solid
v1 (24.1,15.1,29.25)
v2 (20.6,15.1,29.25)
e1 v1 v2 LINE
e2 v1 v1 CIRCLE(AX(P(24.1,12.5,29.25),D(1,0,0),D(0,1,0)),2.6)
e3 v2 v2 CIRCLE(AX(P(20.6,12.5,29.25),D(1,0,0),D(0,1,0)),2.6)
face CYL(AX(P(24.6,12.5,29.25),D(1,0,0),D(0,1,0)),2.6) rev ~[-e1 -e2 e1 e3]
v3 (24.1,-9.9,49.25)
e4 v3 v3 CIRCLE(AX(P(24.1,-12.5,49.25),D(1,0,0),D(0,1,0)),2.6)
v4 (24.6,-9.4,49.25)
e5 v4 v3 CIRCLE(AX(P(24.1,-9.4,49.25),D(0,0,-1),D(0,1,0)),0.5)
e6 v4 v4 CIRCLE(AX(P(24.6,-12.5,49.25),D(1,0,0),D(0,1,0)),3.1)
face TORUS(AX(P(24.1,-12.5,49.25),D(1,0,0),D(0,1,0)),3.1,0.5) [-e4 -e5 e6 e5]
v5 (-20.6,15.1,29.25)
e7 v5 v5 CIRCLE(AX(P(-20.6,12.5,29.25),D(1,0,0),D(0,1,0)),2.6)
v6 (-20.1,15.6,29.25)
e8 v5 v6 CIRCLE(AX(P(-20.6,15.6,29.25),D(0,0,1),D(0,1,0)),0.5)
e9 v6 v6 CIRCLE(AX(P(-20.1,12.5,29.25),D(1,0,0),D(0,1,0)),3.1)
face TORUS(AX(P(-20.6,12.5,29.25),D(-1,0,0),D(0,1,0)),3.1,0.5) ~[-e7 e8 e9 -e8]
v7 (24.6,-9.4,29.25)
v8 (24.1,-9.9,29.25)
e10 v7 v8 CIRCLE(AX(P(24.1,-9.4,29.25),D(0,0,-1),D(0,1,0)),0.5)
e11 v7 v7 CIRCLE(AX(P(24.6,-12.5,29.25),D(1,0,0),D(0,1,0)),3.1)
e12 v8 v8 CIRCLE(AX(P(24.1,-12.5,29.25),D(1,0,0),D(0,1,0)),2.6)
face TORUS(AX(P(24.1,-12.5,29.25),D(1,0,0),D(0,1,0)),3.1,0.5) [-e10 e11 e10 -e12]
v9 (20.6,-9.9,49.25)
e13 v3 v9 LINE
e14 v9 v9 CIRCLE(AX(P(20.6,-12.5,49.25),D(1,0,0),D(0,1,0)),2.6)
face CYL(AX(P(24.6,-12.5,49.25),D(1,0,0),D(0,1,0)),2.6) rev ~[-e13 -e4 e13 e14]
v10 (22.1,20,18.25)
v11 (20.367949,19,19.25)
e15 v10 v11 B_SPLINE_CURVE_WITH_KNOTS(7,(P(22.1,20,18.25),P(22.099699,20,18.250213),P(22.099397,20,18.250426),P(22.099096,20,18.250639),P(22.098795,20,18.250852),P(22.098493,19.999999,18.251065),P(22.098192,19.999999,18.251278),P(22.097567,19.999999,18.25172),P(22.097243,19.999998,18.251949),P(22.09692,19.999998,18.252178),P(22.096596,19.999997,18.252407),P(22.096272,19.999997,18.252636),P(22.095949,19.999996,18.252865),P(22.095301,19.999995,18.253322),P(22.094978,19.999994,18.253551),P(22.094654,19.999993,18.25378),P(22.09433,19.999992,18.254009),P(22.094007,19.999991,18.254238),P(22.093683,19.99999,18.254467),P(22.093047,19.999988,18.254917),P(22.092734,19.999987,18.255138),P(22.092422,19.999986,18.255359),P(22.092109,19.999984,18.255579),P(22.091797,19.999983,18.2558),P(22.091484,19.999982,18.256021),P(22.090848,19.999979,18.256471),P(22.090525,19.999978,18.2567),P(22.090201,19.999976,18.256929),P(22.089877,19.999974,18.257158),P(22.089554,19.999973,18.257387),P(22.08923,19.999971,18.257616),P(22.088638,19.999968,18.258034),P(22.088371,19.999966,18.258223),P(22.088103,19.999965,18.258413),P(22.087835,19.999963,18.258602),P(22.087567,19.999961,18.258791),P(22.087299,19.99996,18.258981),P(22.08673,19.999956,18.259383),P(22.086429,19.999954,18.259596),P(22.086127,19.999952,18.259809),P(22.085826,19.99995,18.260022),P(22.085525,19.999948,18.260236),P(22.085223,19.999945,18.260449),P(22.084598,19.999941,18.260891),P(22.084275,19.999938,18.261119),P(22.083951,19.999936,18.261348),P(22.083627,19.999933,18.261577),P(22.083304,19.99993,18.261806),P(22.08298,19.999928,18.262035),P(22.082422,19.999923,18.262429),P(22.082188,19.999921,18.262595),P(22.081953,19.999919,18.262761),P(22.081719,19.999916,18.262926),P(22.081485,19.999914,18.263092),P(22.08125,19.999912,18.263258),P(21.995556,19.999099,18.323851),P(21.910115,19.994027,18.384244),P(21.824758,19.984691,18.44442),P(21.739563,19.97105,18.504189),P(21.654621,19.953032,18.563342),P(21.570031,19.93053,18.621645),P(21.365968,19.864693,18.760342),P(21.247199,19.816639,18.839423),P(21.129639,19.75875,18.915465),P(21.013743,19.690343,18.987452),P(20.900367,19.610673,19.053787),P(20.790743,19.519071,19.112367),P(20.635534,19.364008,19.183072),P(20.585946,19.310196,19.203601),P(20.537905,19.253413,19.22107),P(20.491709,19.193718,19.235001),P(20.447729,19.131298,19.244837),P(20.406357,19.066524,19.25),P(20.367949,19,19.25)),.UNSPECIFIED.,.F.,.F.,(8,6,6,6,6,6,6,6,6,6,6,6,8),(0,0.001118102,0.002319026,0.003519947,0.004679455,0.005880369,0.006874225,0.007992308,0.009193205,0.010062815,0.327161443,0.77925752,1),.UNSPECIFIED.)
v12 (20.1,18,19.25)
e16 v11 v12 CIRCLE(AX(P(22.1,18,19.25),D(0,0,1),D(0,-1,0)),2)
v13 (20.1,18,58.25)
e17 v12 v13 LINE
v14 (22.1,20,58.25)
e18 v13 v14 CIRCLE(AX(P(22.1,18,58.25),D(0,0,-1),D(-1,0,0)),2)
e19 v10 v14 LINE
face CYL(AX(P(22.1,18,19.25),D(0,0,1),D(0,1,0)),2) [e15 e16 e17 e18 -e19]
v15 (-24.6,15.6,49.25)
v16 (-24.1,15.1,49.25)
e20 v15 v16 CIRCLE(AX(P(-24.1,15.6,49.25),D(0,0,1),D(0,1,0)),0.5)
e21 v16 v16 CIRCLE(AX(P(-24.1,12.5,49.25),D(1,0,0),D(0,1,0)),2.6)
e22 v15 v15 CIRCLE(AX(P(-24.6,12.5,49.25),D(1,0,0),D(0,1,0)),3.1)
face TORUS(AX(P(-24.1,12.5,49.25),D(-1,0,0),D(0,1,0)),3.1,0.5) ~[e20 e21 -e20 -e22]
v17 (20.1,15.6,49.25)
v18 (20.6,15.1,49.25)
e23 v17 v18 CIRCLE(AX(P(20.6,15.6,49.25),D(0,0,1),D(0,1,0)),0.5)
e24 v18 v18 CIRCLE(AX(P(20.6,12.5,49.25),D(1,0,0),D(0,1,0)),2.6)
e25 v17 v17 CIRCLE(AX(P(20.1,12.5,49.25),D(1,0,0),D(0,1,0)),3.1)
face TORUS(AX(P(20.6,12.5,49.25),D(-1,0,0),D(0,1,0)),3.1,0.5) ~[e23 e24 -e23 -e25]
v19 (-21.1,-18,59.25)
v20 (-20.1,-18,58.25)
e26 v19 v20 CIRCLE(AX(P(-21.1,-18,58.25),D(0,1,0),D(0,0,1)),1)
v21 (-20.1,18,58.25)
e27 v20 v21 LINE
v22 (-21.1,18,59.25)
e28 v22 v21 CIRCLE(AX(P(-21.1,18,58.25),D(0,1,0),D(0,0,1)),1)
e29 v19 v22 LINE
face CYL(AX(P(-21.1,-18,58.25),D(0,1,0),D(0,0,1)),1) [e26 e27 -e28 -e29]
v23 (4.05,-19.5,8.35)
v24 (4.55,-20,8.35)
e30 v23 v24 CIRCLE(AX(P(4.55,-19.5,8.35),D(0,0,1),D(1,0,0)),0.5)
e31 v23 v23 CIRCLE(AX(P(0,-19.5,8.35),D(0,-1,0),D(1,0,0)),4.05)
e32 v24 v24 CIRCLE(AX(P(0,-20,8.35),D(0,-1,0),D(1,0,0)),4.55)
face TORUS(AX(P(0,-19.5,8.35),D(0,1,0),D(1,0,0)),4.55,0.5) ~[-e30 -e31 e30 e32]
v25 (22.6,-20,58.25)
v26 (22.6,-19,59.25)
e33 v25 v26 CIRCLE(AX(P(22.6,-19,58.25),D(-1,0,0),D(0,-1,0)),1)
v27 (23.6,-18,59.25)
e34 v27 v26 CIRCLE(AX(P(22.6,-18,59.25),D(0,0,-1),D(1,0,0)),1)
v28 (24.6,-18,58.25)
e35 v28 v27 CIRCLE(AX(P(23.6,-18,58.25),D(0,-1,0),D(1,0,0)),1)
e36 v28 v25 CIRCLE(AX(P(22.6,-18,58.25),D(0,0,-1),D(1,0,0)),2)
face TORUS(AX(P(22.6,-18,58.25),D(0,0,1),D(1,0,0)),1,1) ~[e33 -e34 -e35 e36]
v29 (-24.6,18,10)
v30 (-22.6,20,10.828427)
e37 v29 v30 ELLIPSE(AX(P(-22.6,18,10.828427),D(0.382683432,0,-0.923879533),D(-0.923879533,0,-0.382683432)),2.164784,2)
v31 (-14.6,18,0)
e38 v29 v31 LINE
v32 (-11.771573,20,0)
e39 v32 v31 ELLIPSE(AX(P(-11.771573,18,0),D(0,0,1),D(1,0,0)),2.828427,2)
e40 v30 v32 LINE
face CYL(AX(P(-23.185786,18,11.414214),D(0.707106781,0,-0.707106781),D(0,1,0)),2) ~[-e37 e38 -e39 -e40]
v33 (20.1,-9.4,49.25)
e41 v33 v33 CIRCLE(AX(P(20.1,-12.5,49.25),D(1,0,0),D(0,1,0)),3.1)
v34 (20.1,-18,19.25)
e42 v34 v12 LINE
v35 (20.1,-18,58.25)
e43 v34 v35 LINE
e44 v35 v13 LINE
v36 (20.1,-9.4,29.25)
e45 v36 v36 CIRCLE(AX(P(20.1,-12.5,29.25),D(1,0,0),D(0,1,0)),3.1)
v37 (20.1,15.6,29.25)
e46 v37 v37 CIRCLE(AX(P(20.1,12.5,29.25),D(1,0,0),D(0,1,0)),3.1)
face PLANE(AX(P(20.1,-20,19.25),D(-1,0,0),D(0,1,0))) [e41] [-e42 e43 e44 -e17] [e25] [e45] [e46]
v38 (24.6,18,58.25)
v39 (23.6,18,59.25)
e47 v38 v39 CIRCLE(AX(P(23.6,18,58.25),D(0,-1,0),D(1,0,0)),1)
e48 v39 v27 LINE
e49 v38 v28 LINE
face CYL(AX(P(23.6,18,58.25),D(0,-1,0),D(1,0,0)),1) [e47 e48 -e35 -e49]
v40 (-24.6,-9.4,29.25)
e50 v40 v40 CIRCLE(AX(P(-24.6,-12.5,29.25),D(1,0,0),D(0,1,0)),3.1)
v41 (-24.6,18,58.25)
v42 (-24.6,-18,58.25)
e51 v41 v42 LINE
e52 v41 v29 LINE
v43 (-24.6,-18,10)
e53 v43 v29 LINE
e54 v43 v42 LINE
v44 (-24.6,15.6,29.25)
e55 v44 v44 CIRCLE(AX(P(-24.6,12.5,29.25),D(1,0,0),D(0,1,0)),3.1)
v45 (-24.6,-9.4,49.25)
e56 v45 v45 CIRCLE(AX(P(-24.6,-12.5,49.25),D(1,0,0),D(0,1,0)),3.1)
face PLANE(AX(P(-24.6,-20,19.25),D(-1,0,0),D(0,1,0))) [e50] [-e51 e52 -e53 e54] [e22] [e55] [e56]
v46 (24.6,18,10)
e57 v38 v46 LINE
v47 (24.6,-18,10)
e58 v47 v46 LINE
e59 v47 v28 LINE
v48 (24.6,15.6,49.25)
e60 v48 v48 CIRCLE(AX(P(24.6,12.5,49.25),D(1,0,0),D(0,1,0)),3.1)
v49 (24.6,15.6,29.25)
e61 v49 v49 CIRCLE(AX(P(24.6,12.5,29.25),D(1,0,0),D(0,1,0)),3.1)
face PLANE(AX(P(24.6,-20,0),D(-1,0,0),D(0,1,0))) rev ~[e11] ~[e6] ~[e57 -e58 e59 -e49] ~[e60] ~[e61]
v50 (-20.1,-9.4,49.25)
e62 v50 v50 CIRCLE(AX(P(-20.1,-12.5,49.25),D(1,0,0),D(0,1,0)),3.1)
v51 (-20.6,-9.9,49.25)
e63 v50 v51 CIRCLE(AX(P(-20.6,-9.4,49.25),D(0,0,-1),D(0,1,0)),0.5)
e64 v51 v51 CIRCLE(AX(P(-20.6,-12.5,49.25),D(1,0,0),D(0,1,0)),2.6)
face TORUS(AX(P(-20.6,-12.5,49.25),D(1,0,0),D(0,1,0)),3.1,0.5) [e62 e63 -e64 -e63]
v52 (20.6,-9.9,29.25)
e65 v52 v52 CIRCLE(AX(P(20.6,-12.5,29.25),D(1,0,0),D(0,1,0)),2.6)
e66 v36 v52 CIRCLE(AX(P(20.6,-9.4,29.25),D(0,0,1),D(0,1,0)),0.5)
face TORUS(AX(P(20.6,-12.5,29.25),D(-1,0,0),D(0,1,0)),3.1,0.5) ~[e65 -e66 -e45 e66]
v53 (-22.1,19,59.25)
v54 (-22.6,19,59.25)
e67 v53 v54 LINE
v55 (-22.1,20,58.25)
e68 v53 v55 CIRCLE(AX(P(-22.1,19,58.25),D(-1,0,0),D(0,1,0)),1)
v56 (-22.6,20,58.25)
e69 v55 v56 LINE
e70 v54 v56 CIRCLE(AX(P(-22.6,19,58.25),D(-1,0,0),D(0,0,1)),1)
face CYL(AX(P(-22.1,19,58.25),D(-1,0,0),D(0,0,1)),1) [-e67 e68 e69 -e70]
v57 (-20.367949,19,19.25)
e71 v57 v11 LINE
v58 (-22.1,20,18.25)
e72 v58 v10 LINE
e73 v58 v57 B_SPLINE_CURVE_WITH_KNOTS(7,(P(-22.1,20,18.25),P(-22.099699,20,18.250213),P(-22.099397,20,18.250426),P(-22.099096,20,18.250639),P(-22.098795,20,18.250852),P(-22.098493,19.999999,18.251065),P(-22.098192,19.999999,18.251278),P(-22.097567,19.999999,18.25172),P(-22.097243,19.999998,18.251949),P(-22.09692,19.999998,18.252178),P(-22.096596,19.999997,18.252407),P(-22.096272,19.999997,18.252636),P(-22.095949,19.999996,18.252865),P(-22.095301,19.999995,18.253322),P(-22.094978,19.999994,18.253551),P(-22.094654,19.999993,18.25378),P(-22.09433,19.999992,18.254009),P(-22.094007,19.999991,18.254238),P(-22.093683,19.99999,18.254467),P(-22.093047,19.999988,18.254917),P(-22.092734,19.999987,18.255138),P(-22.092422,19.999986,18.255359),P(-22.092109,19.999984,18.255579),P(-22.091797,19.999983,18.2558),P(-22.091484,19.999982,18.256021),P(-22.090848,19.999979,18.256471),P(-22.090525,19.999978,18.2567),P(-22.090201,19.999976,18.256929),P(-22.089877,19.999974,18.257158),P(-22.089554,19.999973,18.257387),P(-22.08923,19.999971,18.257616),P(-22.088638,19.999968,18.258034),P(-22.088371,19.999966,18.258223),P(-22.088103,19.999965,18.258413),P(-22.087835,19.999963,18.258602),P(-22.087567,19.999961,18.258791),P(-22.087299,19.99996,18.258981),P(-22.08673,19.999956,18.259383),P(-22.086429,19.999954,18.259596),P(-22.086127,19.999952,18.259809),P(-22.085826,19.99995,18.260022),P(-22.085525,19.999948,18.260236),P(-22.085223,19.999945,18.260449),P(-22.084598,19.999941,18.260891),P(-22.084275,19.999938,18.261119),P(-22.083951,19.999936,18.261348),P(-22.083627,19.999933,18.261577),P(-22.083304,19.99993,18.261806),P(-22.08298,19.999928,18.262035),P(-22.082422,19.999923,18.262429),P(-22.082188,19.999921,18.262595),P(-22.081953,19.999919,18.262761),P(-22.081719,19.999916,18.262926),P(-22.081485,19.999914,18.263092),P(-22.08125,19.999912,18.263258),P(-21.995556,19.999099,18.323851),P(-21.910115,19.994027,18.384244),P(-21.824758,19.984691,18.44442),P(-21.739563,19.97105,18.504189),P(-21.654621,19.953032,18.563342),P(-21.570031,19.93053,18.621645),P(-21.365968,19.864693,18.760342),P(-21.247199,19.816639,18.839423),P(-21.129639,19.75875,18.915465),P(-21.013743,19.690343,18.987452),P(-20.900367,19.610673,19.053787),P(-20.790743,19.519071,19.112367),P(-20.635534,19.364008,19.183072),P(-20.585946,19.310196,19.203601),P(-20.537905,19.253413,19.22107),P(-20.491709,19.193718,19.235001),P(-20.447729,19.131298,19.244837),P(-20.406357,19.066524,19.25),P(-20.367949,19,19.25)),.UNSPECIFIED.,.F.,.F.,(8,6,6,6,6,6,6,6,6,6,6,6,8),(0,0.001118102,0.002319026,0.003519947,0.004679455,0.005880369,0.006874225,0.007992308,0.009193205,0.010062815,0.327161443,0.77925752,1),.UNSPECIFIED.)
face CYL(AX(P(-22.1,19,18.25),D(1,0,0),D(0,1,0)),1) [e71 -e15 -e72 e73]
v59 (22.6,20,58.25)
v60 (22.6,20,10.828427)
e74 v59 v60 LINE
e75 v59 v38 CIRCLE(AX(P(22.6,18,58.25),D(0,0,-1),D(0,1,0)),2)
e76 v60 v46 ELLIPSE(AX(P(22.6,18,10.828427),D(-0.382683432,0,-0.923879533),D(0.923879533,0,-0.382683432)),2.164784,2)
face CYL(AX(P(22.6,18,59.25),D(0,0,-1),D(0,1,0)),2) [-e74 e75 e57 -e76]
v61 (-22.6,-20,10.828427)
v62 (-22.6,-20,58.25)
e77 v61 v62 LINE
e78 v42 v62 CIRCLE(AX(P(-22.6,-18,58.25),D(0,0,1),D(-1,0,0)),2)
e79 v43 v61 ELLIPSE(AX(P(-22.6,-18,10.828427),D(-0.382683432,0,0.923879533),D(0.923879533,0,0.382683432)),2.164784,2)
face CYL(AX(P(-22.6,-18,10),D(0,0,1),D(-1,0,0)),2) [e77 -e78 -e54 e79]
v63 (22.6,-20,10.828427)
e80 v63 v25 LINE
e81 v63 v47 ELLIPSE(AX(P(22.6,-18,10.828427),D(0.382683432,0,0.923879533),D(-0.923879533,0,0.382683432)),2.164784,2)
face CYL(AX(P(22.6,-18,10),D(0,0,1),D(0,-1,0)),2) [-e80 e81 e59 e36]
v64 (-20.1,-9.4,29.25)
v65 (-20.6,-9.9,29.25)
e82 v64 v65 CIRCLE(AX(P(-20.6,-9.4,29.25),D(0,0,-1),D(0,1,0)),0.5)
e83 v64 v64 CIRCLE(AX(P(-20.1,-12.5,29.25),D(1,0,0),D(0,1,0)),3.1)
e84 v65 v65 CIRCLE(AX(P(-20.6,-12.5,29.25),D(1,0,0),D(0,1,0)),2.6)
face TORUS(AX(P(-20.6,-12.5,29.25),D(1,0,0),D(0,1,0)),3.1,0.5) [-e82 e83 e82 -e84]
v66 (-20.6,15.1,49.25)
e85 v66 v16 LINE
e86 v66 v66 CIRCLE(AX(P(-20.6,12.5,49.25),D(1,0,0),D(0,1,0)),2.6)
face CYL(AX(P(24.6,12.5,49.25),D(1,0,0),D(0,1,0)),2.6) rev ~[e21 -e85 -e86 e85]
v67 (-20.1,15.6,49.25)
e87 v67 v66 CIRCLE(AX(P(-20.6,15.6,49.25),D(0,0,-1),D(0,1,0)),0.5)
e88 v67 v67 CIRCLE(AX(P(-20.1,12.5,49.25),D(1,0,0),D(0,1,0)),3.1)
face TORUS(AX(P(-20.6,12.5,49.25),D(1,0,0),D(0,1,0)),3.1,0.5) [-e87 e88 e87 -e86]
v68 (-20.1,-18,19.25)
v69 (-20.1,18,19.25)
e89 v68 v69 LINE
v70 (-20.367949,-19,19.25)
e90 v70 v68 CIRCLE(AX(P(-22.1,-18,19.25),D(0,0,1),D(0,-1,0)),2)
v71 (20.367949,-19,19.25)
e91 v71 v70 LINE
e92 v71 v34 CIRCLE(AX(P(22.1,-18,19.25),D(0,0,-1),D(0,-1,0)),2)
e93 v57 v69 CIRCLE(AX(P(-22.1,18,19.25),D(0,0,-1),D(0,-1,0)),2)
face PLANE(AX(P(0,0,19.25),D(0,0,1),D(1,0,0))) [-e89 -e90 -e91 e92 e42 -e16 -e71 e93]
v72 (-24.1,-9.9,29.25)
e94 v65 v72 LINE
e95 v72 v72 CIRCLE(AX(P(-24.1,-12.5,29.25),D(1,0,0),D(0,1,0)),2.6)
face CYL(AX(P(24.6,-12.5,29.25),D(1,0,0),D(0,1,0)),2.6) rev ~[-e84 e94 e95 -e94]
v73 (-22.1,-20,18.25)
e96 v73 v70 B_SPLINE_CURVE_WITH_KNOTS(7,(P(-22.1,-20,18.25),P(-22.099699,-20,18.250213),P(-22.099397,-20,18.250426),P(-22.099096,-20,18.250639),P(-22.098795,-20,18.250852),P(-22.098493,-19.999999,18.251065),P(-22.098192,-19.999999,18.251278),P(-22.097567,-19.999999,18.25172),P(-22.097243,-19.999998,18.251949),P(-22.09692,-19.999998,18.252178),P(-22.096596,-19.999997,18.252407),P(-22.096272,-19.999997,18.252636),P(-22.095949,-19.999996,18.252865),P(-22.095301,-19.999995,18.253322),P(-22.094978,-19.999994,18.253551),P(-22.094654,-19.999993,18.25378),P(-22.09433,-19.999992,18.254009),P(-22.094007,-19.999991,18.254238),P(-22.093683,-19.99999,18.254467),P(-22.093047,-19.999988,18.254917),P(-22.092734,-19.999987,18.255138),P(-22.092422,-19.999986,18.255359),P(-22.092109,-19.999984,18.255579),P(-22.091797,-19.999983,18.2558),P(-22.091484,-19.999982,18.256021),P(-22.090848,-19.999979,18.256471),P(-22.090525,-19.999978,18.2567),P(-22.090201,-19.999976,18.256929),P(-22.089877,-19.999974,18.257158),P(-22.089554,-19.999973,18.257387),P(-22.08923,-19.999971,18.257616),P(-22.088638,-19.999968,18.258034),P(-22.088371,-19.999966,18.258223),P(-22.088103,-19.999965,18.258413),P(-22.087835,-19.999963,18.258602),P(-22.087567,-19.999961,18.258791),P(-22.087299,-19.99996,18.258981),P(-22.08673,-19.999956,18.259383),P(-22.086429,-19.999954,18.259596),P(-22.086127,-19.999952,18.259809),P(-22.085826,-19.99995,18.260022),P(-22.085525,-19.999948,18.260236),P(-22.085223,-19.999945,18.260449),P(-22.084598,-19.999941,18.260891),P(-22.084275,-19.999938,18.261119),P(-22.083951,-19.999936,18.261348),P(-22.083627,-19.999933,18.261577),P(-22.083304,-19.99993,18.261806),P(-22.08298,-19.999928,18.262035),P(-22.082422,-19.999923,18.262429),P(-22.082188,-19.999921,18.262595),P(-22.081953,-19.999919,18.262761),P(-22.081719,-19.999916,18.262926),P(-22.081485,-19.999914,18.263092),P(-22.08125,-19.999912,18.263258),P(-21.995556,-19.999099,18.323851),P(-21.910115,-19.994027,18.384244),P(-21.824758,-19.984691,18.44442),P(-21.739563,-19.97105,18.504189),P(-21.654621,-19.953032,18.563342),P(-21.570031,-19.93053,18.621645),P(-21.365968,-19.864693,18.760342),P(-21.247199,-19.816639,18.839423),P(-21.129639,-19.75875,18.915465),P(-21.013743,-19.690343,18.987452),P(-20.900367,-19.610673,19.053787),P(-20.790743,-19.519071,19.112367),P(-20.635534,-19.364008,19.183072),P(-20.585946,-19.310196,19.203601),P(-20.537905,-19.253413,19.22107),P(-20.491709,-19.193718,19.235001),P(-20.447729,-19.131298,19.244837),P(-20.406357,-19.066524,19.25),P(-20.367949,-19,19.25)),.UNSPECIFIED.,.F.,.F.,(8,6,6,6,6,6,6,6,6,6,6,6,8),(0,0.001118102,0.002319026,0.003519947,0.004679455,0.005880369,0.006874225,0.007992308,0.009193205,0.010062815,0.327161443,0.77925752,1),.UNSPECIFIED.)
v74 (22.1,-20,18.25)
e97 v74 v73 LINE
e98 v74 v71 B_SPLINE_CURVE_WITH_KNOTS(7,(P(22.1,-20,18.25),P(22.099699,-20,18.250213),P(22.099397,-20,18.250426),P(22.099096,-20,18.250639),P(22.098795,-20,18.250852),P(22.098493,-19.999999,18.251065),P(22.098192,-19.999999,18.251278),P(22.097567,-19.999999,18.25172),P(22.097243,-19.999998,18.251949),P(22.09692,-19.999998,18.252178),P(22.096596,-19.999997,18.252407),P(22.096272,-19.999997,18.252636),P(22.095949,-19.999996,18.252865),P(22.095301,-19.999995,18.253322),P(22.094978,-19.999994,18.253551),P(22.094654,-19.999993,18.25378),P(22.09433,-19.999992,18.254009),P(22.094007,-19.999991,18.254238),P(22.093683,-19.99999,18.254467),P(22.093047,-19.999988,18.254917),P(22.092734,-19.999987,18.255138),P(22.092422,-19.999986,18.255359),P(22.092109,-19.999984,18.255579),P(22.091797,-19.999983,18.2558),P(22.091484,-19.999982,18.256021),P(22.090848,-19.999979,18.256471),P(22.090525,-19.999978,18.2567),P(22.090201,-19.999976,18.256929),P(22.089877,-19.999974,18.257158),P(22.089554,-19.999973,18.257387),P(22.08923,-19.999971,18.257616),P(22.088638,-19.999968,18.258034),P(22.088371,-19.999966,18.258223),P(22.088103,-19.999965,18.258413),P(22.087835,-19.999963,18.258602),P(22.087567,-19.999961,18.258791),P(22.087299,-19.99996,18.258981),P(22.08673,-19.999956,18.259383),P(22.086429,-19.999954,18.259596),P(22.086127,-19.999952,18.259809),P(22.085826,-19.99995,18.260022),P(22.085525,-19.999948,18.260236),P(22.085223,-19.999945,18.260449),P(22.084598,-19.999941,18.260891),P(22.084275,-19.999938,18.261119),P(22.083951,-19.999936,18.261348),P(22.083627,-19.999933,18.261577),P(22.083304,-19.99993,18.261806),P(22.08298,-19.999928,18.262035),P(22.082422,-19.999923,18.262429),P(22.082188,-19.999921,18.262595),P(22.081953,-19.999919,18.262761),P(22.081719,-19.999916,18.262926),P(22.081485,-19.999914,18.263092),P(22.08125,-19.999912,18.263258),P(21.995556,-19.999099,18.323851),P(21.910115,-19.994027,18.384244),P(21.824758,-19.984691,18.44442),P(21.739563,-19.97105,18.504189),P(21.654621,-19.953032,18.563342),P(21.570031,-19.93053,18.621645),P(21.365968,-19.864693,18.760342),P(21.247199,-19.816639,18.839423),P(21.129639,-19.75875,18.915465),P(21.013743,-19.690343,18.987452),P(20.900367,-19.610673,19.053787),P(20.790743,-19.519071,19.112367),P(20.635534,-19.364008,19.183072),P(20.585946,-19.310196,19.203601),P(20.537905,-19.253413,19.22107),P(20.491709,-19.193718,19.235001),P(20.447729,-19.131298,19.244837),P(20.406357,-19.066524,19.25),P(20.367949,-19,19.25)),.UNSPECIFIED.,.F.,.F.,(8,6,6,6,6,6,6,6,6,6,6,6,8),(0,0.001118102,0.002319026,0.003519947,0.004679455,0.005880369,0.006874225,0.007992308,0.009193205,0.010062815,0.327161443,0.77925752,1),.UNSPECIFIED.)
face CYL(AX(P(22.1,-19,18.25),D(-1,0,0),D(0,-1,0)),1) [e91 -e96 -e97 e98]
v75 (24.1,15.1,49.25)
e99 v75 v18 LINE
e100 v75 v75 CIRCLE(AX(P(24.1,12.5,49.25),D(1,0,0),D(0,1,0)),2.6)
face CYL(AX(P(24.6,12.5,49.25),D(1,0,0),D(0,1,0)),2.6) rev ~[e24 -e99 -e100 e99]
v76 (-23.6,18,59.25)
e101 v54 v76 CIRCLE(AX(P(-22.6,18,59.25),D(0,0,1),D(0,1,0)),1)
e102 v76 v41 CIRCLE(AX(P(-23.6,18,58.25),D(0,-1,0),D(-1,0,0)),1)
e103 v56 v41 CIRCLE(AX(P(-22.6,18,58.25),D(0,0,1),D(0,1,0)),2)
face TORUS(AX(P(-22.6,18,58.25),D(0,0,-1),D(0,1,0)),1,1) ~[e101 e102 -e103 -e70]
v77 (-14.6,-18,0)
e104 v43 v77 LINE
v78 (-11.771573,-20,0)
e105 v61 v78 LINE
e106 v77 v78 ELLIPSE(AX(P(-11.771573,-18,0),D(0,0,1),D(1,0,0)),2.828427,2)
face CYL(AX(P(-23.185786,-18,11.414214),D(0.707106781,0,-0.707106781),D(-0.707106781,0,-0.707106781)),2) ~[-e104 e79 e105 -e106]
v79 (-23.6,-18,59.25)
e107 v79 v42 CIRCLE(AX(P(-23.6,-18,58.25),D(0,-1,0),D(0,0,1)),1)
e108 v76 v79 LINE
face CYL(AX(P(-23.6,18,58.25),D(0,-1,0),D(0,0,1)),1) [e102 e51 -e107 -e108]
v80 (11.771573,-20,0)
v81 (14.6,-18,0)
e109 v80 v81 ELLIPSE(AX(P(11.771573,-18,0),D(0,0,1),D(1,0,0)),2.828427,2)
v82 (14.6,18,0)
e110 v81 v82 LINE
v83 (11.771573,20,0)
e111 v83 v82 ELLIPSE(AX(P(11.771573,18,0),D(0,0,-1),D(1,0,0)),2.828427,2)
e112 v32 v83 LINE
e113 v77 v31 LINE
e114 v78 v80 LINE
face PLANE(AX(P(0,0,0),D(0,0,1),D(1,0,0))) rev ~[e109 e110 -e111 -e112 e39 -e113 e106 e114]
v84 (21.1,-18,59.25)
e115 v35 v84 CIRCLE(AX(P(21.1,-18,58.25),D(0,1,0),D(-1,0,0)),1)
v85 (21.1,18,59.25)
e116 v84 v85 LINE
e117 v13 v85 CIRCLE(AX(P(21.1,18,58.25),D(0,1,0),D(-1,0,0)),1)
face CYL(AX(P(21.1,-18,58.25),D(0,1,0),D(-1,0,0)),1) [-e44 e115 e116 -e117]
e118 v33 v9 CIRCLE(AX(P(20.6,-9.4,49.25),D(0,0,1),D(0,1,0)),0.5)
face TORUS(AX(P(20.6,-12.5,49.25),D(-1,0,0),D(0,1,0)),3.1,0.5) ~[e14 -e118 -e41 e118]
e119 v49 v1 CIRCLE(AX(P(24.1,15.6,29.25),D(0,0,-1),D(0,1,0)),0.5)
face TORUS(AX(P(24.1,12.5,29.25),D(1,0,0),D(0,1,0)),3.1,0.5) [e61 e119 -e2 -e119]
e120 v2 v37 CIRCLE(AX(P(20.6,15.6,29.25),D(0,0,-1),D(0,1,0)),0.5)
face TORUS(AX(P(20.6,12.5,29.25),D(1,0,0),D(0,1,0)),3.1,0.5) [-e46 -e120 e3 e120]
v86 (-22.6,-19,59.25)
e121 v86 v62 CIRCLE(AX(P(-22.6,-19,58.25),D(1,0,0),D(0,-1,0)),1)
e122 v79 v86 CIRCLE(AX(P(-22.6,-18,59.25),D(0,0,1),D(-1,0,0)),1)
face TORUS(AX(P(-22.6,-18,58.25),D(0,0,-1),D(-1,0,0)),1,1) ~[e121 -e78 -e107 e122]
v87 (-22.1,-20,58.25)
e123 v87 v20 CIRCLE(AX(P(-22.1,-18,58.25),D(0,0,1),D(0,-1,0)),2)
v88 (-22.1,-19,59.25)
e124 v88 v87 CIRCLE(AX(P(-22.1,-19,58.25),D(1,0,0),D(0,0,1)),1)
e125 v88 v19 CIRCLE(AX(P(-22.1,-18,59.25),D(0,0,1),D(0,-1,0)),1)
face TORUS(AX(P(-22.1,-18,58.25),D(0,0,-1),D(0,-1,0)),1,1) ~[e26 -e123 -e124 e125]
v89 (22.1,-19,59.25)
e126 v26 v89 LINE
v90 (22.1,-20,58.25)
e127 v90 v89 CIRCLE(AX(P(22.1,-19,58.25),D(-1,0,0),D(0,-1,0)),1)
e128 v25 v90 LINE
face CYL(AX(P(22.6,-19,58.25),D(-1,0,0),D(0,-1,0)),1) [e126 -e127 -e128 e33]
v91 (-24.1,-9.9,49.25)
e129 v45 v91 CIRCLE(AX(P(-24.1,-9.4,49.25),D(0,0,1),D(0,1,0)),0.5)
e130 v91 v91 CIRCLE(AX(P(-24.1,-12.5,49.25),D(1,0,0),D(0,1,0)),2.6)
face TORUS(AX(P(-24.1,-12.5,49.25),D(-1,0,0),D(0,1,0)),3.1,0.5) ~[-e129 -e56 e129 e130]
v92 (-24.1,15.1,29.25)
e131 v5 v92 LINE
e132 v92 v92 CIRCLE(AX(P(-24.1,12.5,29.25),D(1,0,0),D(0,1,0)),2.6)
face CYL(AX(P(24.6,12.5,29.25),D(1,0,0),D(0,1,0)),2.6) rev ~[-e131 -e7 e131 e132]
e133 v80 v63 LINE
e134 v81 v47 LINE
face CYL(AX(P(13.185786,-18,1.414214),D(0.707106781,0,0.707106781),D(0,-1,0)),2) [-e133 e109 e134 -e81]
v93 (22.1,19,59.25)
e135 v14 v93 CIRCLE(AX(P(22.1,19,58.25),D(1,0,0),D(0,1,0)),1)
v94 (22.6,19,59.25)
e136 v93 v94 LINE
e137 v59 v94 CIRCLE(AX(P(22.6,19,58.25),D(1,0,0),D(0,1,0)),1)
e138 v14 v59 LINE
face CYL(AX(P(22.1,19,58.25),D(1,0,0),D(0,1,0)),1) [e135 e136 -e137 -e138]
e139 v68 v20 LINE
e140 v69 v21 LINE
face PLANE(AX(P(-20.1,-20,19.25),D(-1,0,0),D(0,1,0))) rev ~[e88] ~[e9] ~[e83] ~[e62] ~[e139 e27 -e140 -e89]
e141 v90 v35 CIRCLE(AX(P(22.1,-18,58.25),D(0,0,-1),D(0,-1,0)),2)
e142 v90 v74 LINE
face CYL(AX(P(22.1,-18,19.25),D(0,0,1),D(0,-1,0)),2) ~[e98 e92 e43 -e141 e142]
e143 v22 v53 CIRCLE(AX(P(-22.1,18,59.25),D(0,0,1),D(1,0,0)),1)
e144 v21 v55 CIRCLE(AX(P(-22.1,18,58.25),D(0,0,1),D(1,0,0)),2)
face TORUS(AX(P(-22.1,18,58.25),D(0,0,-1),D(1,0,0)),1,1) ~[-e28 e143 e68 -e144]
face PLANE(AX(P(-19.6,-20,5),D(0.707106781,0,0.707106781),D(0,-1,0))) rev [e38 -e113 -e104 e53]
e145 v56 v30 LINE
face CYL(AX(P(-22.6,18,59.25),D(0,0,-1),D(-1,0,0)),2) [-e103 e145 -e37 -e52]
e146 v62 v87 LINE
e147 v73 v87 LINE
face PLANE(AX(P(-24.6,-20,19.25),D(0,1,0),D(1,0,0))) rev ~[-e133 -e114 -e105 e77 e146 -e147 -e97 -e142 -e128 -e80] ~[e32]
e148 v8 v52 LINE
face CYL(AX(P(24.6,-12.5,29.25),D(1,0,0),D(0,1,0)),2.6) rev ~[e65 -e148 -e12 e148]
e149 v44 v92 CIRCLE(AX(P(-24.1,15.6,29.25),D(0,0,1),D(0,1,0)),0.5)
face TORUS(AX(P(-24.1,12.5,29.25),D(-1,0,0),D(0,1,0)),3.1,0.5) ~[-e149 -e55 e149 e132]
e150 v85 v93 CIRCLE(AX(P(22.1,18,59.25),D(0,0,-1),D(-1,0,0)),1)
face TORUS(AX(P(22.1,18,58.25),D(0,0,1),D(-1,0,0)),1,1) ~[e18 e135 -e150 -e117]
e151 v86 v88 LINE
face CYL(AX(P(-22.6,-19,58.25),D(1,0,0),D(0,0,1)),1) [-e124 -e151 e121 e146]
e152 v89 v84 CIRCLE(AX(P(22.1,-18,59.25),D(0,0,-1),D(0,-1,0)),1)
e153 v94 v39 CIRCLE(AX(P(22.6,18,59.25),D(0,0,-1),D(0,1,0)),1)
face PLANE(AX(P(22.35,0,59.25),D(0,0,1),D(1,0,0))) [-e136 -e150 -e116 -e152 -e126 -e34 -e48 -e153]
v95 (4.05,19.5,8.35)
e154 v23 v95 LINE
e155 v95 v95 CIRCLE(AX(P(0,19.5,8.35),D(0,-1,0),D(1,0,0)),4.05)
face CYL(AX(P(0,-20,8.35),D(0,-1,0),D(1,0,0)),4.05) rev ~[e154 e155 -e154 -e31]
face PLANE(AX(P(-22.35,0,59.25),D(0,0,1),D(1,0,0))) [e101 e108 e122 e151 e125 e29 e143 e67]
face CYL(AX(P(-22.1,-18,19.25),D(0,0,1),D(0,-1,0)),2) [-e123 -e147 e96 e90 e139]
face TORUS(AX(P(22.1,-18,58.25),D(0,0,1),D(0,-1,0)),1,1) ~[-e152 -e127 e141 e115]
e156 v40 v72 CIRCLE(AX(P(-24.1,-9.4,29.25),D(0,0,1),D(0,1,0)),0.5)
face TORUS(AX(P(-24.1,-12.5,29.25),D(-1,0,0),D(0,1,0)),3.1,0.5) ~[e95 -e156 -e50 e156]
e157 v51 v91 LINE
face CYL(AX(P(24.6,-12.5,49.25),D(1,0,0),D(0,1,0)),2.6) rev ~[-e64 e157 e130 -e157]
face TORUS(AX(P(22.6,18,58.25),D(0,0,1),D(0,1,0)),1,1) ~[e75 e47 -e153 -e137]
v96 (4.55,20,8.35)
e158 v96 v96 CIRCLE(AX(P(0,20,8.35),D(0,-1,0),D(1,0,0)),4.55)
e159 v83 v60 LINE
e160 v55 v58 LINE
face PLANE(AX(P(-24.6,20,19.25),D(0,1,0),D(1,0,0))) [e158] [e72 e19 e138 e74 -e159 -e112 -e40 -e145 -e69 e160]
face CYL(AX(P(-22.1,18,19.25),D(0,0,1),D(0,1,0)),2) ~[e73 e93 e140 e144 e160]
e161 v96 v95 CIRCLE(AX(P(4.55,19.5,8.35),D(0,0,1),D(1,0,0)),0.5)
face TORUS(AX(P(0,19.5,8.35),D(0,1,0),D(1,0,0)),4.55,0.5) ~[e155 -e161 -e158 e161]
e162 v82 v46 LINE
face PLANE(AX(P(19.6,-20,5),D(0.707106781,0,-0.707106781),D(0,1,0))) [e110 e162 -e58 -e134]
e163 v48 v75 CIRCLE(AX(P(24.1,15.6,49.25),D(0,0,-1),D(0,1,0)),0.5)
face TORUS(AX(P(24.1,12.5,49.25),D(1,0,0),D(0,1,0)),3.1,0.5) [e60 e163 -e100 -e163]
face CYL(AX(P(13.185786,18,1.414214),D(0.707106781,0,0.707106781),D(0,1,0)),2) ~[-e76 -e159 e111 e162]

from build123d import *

# Parameters (mm, degrees)
F4_W      = 49.2
F4_H      = 40
F5_DEPTH  = 19.25
F6_W      = 4.5
F6_H      = 40
F7_DEPTH  = 40
F8_R      = 4.05
F9_DEPTH  = 40
F10_SIZE  = 10
F11_R     = 2.6
F12_DEPTH = 49.2
F13_R     = 2
F14_R     = 0.5
F15_R     = 1


with BuildPart() as f5:
    # F4 (on Top) → F5 (new body)
    with BuildSketch(Plane.XY):
        Rectangle(F4_W, F4_H)
    extrude(amount=F5_DEPTH)

    # F6 (on face) → F7 (join)
    with BuildSketch(Plane.XY.offset(19.25)):
        with Locations((-22.35, 0)):
            Rectangle(F6_W, F6_H)
        with Locations((22.35, 0)):
            Rectangle(F6_W, F6_H)
    extrude(amount=F7_DEPTH)

    # F8 (on face) → F9 (cut, through all)
    with BuildSketch(Plane.XZ.offset(20)):
        with Locations((0, 8.35)):
            Circle(F8_R)
    extrude(amount=-F9_DEPTH, mode=Mode.SUBTRACT)

    # F10
    f10_edges = [f5.edges().sort_by_distance(p)[0] for p in [
        (-24.6, 0, 0),
        (24.6, 0, 0),
    ]]
    chamfer(f10_edges, length=F10_SIZE)

    # F11 (on face) → F12 (cut, through all)
    with BuildSketch(Plane.YZ.offset(24.6)):
        with Locations((-12.5, 49.25)):
            Circle(F11_R)
        with Locations((-12.5, 29.25)):
            Circle(F11_R)
        with Locations((12.5, 49.25)):
            Circle(F11_R)
        with Locations((12.5, 29.25)):
            Circle(F11_R)
    extrude(amount=-F12_DEPTH, mode=Mode.SUBTRACT)

    # F13
    f13_edges = [f5.edges().sort_by_distance(p)[0] for p in [
        (-20.1, -20, 39.25),
        (-24.6, -20, 34.625),
        (20.1, -20, 39.25),
        (24.6, -20, 34.625),
        (-19.6, -20, 5),
        (19.6, -20, 5),
        (24.6, 20, 34.625),
        (20.1, 20, 39.25),
        (19.6, 20, 5),
        (-20.1, 20, 39.25),
        (-24.6, 20, 34.625),
        (-19.6, 20, 5),
    ]]
    fillet(f13_edges, radius=F13_R)

    # F14
    f14_edges = [f5.edges().sort_by_distance(p)[0] for p in [
        (4.05, 0, 8.35),
        (-4.05, -20, 8.35),
        (-4.05, 20, 8.35),
        (24.6, 9.9, 29.25),
        (22.35, 15.1, 29.25),
        (20.1, 9.9, 29.25),
        (-20.1, 9.9, 29.25),
        (-22.35, 15.1, 29.25),
        (-24.6, 9.9, 29.25),
        (24.6, 9.9, 49.25),
        (22.35, 15.1, 49.25),
        (20.1, 9.9, 49.25),
        (-20.1, 9.9, 49.25),
        (-22.35, 15.1, 49.25),
        (-24.6, 9.9, 49.25),
        (24.6, -15.1, 49.25),
        (22.35, -9.9, 49.25),
        (20.1, -15.1, 49.25),
        (-20.1, -15.1, 49.25),
        (-22.35, -9.9, 49.25),
        (-24.6, -15.1, 49.25),
        (24.6, -15.1, 29.25),
        (22.35, -9.9, 29.25),
        (20.1, -15.1, 29.25),
        (-20.1, -15.1, 29.25),
        (-22.35, -9.9, 29.25),
        (-24.6, -15.1, 29.25),
    ]]
    fillet(f14_edges, radius=F14_R)

    # F15
    f15_edges = [f5.edges().sort_by_distance(p)[0] for p in [
        (22.35, 20, 59.25),
        (24.014214, 19.414214, 59.25),
        (20.685786, 19.414214, 59.25),
        (24.6, 0, 59.25),
        (20.1, 0, 59.25),
        (24.014214, -19.414214, 59.25),
        (20.685786, -19.414214, 59.25),
        (22.35, -20, 59.25),
        (-20.1, 0, 59.25),
        (-20.685786, -19.414214, 59.25),
        (-20.685786, 19.414214, 59.25),
        (-22.35, -20, 59.25),
        (-22.35, 20, 59.25),
        (-24.014214, -19.414214, 59.25),
        (-24.014214, 19.414214, 59.25),
        (-24.6, 0, 59.25),
        (0, 20, 19.25),
        (0, -20, 19.25),
    ]]
    fillet(f15_edges, radius=F15_R)


solid = f5.part
